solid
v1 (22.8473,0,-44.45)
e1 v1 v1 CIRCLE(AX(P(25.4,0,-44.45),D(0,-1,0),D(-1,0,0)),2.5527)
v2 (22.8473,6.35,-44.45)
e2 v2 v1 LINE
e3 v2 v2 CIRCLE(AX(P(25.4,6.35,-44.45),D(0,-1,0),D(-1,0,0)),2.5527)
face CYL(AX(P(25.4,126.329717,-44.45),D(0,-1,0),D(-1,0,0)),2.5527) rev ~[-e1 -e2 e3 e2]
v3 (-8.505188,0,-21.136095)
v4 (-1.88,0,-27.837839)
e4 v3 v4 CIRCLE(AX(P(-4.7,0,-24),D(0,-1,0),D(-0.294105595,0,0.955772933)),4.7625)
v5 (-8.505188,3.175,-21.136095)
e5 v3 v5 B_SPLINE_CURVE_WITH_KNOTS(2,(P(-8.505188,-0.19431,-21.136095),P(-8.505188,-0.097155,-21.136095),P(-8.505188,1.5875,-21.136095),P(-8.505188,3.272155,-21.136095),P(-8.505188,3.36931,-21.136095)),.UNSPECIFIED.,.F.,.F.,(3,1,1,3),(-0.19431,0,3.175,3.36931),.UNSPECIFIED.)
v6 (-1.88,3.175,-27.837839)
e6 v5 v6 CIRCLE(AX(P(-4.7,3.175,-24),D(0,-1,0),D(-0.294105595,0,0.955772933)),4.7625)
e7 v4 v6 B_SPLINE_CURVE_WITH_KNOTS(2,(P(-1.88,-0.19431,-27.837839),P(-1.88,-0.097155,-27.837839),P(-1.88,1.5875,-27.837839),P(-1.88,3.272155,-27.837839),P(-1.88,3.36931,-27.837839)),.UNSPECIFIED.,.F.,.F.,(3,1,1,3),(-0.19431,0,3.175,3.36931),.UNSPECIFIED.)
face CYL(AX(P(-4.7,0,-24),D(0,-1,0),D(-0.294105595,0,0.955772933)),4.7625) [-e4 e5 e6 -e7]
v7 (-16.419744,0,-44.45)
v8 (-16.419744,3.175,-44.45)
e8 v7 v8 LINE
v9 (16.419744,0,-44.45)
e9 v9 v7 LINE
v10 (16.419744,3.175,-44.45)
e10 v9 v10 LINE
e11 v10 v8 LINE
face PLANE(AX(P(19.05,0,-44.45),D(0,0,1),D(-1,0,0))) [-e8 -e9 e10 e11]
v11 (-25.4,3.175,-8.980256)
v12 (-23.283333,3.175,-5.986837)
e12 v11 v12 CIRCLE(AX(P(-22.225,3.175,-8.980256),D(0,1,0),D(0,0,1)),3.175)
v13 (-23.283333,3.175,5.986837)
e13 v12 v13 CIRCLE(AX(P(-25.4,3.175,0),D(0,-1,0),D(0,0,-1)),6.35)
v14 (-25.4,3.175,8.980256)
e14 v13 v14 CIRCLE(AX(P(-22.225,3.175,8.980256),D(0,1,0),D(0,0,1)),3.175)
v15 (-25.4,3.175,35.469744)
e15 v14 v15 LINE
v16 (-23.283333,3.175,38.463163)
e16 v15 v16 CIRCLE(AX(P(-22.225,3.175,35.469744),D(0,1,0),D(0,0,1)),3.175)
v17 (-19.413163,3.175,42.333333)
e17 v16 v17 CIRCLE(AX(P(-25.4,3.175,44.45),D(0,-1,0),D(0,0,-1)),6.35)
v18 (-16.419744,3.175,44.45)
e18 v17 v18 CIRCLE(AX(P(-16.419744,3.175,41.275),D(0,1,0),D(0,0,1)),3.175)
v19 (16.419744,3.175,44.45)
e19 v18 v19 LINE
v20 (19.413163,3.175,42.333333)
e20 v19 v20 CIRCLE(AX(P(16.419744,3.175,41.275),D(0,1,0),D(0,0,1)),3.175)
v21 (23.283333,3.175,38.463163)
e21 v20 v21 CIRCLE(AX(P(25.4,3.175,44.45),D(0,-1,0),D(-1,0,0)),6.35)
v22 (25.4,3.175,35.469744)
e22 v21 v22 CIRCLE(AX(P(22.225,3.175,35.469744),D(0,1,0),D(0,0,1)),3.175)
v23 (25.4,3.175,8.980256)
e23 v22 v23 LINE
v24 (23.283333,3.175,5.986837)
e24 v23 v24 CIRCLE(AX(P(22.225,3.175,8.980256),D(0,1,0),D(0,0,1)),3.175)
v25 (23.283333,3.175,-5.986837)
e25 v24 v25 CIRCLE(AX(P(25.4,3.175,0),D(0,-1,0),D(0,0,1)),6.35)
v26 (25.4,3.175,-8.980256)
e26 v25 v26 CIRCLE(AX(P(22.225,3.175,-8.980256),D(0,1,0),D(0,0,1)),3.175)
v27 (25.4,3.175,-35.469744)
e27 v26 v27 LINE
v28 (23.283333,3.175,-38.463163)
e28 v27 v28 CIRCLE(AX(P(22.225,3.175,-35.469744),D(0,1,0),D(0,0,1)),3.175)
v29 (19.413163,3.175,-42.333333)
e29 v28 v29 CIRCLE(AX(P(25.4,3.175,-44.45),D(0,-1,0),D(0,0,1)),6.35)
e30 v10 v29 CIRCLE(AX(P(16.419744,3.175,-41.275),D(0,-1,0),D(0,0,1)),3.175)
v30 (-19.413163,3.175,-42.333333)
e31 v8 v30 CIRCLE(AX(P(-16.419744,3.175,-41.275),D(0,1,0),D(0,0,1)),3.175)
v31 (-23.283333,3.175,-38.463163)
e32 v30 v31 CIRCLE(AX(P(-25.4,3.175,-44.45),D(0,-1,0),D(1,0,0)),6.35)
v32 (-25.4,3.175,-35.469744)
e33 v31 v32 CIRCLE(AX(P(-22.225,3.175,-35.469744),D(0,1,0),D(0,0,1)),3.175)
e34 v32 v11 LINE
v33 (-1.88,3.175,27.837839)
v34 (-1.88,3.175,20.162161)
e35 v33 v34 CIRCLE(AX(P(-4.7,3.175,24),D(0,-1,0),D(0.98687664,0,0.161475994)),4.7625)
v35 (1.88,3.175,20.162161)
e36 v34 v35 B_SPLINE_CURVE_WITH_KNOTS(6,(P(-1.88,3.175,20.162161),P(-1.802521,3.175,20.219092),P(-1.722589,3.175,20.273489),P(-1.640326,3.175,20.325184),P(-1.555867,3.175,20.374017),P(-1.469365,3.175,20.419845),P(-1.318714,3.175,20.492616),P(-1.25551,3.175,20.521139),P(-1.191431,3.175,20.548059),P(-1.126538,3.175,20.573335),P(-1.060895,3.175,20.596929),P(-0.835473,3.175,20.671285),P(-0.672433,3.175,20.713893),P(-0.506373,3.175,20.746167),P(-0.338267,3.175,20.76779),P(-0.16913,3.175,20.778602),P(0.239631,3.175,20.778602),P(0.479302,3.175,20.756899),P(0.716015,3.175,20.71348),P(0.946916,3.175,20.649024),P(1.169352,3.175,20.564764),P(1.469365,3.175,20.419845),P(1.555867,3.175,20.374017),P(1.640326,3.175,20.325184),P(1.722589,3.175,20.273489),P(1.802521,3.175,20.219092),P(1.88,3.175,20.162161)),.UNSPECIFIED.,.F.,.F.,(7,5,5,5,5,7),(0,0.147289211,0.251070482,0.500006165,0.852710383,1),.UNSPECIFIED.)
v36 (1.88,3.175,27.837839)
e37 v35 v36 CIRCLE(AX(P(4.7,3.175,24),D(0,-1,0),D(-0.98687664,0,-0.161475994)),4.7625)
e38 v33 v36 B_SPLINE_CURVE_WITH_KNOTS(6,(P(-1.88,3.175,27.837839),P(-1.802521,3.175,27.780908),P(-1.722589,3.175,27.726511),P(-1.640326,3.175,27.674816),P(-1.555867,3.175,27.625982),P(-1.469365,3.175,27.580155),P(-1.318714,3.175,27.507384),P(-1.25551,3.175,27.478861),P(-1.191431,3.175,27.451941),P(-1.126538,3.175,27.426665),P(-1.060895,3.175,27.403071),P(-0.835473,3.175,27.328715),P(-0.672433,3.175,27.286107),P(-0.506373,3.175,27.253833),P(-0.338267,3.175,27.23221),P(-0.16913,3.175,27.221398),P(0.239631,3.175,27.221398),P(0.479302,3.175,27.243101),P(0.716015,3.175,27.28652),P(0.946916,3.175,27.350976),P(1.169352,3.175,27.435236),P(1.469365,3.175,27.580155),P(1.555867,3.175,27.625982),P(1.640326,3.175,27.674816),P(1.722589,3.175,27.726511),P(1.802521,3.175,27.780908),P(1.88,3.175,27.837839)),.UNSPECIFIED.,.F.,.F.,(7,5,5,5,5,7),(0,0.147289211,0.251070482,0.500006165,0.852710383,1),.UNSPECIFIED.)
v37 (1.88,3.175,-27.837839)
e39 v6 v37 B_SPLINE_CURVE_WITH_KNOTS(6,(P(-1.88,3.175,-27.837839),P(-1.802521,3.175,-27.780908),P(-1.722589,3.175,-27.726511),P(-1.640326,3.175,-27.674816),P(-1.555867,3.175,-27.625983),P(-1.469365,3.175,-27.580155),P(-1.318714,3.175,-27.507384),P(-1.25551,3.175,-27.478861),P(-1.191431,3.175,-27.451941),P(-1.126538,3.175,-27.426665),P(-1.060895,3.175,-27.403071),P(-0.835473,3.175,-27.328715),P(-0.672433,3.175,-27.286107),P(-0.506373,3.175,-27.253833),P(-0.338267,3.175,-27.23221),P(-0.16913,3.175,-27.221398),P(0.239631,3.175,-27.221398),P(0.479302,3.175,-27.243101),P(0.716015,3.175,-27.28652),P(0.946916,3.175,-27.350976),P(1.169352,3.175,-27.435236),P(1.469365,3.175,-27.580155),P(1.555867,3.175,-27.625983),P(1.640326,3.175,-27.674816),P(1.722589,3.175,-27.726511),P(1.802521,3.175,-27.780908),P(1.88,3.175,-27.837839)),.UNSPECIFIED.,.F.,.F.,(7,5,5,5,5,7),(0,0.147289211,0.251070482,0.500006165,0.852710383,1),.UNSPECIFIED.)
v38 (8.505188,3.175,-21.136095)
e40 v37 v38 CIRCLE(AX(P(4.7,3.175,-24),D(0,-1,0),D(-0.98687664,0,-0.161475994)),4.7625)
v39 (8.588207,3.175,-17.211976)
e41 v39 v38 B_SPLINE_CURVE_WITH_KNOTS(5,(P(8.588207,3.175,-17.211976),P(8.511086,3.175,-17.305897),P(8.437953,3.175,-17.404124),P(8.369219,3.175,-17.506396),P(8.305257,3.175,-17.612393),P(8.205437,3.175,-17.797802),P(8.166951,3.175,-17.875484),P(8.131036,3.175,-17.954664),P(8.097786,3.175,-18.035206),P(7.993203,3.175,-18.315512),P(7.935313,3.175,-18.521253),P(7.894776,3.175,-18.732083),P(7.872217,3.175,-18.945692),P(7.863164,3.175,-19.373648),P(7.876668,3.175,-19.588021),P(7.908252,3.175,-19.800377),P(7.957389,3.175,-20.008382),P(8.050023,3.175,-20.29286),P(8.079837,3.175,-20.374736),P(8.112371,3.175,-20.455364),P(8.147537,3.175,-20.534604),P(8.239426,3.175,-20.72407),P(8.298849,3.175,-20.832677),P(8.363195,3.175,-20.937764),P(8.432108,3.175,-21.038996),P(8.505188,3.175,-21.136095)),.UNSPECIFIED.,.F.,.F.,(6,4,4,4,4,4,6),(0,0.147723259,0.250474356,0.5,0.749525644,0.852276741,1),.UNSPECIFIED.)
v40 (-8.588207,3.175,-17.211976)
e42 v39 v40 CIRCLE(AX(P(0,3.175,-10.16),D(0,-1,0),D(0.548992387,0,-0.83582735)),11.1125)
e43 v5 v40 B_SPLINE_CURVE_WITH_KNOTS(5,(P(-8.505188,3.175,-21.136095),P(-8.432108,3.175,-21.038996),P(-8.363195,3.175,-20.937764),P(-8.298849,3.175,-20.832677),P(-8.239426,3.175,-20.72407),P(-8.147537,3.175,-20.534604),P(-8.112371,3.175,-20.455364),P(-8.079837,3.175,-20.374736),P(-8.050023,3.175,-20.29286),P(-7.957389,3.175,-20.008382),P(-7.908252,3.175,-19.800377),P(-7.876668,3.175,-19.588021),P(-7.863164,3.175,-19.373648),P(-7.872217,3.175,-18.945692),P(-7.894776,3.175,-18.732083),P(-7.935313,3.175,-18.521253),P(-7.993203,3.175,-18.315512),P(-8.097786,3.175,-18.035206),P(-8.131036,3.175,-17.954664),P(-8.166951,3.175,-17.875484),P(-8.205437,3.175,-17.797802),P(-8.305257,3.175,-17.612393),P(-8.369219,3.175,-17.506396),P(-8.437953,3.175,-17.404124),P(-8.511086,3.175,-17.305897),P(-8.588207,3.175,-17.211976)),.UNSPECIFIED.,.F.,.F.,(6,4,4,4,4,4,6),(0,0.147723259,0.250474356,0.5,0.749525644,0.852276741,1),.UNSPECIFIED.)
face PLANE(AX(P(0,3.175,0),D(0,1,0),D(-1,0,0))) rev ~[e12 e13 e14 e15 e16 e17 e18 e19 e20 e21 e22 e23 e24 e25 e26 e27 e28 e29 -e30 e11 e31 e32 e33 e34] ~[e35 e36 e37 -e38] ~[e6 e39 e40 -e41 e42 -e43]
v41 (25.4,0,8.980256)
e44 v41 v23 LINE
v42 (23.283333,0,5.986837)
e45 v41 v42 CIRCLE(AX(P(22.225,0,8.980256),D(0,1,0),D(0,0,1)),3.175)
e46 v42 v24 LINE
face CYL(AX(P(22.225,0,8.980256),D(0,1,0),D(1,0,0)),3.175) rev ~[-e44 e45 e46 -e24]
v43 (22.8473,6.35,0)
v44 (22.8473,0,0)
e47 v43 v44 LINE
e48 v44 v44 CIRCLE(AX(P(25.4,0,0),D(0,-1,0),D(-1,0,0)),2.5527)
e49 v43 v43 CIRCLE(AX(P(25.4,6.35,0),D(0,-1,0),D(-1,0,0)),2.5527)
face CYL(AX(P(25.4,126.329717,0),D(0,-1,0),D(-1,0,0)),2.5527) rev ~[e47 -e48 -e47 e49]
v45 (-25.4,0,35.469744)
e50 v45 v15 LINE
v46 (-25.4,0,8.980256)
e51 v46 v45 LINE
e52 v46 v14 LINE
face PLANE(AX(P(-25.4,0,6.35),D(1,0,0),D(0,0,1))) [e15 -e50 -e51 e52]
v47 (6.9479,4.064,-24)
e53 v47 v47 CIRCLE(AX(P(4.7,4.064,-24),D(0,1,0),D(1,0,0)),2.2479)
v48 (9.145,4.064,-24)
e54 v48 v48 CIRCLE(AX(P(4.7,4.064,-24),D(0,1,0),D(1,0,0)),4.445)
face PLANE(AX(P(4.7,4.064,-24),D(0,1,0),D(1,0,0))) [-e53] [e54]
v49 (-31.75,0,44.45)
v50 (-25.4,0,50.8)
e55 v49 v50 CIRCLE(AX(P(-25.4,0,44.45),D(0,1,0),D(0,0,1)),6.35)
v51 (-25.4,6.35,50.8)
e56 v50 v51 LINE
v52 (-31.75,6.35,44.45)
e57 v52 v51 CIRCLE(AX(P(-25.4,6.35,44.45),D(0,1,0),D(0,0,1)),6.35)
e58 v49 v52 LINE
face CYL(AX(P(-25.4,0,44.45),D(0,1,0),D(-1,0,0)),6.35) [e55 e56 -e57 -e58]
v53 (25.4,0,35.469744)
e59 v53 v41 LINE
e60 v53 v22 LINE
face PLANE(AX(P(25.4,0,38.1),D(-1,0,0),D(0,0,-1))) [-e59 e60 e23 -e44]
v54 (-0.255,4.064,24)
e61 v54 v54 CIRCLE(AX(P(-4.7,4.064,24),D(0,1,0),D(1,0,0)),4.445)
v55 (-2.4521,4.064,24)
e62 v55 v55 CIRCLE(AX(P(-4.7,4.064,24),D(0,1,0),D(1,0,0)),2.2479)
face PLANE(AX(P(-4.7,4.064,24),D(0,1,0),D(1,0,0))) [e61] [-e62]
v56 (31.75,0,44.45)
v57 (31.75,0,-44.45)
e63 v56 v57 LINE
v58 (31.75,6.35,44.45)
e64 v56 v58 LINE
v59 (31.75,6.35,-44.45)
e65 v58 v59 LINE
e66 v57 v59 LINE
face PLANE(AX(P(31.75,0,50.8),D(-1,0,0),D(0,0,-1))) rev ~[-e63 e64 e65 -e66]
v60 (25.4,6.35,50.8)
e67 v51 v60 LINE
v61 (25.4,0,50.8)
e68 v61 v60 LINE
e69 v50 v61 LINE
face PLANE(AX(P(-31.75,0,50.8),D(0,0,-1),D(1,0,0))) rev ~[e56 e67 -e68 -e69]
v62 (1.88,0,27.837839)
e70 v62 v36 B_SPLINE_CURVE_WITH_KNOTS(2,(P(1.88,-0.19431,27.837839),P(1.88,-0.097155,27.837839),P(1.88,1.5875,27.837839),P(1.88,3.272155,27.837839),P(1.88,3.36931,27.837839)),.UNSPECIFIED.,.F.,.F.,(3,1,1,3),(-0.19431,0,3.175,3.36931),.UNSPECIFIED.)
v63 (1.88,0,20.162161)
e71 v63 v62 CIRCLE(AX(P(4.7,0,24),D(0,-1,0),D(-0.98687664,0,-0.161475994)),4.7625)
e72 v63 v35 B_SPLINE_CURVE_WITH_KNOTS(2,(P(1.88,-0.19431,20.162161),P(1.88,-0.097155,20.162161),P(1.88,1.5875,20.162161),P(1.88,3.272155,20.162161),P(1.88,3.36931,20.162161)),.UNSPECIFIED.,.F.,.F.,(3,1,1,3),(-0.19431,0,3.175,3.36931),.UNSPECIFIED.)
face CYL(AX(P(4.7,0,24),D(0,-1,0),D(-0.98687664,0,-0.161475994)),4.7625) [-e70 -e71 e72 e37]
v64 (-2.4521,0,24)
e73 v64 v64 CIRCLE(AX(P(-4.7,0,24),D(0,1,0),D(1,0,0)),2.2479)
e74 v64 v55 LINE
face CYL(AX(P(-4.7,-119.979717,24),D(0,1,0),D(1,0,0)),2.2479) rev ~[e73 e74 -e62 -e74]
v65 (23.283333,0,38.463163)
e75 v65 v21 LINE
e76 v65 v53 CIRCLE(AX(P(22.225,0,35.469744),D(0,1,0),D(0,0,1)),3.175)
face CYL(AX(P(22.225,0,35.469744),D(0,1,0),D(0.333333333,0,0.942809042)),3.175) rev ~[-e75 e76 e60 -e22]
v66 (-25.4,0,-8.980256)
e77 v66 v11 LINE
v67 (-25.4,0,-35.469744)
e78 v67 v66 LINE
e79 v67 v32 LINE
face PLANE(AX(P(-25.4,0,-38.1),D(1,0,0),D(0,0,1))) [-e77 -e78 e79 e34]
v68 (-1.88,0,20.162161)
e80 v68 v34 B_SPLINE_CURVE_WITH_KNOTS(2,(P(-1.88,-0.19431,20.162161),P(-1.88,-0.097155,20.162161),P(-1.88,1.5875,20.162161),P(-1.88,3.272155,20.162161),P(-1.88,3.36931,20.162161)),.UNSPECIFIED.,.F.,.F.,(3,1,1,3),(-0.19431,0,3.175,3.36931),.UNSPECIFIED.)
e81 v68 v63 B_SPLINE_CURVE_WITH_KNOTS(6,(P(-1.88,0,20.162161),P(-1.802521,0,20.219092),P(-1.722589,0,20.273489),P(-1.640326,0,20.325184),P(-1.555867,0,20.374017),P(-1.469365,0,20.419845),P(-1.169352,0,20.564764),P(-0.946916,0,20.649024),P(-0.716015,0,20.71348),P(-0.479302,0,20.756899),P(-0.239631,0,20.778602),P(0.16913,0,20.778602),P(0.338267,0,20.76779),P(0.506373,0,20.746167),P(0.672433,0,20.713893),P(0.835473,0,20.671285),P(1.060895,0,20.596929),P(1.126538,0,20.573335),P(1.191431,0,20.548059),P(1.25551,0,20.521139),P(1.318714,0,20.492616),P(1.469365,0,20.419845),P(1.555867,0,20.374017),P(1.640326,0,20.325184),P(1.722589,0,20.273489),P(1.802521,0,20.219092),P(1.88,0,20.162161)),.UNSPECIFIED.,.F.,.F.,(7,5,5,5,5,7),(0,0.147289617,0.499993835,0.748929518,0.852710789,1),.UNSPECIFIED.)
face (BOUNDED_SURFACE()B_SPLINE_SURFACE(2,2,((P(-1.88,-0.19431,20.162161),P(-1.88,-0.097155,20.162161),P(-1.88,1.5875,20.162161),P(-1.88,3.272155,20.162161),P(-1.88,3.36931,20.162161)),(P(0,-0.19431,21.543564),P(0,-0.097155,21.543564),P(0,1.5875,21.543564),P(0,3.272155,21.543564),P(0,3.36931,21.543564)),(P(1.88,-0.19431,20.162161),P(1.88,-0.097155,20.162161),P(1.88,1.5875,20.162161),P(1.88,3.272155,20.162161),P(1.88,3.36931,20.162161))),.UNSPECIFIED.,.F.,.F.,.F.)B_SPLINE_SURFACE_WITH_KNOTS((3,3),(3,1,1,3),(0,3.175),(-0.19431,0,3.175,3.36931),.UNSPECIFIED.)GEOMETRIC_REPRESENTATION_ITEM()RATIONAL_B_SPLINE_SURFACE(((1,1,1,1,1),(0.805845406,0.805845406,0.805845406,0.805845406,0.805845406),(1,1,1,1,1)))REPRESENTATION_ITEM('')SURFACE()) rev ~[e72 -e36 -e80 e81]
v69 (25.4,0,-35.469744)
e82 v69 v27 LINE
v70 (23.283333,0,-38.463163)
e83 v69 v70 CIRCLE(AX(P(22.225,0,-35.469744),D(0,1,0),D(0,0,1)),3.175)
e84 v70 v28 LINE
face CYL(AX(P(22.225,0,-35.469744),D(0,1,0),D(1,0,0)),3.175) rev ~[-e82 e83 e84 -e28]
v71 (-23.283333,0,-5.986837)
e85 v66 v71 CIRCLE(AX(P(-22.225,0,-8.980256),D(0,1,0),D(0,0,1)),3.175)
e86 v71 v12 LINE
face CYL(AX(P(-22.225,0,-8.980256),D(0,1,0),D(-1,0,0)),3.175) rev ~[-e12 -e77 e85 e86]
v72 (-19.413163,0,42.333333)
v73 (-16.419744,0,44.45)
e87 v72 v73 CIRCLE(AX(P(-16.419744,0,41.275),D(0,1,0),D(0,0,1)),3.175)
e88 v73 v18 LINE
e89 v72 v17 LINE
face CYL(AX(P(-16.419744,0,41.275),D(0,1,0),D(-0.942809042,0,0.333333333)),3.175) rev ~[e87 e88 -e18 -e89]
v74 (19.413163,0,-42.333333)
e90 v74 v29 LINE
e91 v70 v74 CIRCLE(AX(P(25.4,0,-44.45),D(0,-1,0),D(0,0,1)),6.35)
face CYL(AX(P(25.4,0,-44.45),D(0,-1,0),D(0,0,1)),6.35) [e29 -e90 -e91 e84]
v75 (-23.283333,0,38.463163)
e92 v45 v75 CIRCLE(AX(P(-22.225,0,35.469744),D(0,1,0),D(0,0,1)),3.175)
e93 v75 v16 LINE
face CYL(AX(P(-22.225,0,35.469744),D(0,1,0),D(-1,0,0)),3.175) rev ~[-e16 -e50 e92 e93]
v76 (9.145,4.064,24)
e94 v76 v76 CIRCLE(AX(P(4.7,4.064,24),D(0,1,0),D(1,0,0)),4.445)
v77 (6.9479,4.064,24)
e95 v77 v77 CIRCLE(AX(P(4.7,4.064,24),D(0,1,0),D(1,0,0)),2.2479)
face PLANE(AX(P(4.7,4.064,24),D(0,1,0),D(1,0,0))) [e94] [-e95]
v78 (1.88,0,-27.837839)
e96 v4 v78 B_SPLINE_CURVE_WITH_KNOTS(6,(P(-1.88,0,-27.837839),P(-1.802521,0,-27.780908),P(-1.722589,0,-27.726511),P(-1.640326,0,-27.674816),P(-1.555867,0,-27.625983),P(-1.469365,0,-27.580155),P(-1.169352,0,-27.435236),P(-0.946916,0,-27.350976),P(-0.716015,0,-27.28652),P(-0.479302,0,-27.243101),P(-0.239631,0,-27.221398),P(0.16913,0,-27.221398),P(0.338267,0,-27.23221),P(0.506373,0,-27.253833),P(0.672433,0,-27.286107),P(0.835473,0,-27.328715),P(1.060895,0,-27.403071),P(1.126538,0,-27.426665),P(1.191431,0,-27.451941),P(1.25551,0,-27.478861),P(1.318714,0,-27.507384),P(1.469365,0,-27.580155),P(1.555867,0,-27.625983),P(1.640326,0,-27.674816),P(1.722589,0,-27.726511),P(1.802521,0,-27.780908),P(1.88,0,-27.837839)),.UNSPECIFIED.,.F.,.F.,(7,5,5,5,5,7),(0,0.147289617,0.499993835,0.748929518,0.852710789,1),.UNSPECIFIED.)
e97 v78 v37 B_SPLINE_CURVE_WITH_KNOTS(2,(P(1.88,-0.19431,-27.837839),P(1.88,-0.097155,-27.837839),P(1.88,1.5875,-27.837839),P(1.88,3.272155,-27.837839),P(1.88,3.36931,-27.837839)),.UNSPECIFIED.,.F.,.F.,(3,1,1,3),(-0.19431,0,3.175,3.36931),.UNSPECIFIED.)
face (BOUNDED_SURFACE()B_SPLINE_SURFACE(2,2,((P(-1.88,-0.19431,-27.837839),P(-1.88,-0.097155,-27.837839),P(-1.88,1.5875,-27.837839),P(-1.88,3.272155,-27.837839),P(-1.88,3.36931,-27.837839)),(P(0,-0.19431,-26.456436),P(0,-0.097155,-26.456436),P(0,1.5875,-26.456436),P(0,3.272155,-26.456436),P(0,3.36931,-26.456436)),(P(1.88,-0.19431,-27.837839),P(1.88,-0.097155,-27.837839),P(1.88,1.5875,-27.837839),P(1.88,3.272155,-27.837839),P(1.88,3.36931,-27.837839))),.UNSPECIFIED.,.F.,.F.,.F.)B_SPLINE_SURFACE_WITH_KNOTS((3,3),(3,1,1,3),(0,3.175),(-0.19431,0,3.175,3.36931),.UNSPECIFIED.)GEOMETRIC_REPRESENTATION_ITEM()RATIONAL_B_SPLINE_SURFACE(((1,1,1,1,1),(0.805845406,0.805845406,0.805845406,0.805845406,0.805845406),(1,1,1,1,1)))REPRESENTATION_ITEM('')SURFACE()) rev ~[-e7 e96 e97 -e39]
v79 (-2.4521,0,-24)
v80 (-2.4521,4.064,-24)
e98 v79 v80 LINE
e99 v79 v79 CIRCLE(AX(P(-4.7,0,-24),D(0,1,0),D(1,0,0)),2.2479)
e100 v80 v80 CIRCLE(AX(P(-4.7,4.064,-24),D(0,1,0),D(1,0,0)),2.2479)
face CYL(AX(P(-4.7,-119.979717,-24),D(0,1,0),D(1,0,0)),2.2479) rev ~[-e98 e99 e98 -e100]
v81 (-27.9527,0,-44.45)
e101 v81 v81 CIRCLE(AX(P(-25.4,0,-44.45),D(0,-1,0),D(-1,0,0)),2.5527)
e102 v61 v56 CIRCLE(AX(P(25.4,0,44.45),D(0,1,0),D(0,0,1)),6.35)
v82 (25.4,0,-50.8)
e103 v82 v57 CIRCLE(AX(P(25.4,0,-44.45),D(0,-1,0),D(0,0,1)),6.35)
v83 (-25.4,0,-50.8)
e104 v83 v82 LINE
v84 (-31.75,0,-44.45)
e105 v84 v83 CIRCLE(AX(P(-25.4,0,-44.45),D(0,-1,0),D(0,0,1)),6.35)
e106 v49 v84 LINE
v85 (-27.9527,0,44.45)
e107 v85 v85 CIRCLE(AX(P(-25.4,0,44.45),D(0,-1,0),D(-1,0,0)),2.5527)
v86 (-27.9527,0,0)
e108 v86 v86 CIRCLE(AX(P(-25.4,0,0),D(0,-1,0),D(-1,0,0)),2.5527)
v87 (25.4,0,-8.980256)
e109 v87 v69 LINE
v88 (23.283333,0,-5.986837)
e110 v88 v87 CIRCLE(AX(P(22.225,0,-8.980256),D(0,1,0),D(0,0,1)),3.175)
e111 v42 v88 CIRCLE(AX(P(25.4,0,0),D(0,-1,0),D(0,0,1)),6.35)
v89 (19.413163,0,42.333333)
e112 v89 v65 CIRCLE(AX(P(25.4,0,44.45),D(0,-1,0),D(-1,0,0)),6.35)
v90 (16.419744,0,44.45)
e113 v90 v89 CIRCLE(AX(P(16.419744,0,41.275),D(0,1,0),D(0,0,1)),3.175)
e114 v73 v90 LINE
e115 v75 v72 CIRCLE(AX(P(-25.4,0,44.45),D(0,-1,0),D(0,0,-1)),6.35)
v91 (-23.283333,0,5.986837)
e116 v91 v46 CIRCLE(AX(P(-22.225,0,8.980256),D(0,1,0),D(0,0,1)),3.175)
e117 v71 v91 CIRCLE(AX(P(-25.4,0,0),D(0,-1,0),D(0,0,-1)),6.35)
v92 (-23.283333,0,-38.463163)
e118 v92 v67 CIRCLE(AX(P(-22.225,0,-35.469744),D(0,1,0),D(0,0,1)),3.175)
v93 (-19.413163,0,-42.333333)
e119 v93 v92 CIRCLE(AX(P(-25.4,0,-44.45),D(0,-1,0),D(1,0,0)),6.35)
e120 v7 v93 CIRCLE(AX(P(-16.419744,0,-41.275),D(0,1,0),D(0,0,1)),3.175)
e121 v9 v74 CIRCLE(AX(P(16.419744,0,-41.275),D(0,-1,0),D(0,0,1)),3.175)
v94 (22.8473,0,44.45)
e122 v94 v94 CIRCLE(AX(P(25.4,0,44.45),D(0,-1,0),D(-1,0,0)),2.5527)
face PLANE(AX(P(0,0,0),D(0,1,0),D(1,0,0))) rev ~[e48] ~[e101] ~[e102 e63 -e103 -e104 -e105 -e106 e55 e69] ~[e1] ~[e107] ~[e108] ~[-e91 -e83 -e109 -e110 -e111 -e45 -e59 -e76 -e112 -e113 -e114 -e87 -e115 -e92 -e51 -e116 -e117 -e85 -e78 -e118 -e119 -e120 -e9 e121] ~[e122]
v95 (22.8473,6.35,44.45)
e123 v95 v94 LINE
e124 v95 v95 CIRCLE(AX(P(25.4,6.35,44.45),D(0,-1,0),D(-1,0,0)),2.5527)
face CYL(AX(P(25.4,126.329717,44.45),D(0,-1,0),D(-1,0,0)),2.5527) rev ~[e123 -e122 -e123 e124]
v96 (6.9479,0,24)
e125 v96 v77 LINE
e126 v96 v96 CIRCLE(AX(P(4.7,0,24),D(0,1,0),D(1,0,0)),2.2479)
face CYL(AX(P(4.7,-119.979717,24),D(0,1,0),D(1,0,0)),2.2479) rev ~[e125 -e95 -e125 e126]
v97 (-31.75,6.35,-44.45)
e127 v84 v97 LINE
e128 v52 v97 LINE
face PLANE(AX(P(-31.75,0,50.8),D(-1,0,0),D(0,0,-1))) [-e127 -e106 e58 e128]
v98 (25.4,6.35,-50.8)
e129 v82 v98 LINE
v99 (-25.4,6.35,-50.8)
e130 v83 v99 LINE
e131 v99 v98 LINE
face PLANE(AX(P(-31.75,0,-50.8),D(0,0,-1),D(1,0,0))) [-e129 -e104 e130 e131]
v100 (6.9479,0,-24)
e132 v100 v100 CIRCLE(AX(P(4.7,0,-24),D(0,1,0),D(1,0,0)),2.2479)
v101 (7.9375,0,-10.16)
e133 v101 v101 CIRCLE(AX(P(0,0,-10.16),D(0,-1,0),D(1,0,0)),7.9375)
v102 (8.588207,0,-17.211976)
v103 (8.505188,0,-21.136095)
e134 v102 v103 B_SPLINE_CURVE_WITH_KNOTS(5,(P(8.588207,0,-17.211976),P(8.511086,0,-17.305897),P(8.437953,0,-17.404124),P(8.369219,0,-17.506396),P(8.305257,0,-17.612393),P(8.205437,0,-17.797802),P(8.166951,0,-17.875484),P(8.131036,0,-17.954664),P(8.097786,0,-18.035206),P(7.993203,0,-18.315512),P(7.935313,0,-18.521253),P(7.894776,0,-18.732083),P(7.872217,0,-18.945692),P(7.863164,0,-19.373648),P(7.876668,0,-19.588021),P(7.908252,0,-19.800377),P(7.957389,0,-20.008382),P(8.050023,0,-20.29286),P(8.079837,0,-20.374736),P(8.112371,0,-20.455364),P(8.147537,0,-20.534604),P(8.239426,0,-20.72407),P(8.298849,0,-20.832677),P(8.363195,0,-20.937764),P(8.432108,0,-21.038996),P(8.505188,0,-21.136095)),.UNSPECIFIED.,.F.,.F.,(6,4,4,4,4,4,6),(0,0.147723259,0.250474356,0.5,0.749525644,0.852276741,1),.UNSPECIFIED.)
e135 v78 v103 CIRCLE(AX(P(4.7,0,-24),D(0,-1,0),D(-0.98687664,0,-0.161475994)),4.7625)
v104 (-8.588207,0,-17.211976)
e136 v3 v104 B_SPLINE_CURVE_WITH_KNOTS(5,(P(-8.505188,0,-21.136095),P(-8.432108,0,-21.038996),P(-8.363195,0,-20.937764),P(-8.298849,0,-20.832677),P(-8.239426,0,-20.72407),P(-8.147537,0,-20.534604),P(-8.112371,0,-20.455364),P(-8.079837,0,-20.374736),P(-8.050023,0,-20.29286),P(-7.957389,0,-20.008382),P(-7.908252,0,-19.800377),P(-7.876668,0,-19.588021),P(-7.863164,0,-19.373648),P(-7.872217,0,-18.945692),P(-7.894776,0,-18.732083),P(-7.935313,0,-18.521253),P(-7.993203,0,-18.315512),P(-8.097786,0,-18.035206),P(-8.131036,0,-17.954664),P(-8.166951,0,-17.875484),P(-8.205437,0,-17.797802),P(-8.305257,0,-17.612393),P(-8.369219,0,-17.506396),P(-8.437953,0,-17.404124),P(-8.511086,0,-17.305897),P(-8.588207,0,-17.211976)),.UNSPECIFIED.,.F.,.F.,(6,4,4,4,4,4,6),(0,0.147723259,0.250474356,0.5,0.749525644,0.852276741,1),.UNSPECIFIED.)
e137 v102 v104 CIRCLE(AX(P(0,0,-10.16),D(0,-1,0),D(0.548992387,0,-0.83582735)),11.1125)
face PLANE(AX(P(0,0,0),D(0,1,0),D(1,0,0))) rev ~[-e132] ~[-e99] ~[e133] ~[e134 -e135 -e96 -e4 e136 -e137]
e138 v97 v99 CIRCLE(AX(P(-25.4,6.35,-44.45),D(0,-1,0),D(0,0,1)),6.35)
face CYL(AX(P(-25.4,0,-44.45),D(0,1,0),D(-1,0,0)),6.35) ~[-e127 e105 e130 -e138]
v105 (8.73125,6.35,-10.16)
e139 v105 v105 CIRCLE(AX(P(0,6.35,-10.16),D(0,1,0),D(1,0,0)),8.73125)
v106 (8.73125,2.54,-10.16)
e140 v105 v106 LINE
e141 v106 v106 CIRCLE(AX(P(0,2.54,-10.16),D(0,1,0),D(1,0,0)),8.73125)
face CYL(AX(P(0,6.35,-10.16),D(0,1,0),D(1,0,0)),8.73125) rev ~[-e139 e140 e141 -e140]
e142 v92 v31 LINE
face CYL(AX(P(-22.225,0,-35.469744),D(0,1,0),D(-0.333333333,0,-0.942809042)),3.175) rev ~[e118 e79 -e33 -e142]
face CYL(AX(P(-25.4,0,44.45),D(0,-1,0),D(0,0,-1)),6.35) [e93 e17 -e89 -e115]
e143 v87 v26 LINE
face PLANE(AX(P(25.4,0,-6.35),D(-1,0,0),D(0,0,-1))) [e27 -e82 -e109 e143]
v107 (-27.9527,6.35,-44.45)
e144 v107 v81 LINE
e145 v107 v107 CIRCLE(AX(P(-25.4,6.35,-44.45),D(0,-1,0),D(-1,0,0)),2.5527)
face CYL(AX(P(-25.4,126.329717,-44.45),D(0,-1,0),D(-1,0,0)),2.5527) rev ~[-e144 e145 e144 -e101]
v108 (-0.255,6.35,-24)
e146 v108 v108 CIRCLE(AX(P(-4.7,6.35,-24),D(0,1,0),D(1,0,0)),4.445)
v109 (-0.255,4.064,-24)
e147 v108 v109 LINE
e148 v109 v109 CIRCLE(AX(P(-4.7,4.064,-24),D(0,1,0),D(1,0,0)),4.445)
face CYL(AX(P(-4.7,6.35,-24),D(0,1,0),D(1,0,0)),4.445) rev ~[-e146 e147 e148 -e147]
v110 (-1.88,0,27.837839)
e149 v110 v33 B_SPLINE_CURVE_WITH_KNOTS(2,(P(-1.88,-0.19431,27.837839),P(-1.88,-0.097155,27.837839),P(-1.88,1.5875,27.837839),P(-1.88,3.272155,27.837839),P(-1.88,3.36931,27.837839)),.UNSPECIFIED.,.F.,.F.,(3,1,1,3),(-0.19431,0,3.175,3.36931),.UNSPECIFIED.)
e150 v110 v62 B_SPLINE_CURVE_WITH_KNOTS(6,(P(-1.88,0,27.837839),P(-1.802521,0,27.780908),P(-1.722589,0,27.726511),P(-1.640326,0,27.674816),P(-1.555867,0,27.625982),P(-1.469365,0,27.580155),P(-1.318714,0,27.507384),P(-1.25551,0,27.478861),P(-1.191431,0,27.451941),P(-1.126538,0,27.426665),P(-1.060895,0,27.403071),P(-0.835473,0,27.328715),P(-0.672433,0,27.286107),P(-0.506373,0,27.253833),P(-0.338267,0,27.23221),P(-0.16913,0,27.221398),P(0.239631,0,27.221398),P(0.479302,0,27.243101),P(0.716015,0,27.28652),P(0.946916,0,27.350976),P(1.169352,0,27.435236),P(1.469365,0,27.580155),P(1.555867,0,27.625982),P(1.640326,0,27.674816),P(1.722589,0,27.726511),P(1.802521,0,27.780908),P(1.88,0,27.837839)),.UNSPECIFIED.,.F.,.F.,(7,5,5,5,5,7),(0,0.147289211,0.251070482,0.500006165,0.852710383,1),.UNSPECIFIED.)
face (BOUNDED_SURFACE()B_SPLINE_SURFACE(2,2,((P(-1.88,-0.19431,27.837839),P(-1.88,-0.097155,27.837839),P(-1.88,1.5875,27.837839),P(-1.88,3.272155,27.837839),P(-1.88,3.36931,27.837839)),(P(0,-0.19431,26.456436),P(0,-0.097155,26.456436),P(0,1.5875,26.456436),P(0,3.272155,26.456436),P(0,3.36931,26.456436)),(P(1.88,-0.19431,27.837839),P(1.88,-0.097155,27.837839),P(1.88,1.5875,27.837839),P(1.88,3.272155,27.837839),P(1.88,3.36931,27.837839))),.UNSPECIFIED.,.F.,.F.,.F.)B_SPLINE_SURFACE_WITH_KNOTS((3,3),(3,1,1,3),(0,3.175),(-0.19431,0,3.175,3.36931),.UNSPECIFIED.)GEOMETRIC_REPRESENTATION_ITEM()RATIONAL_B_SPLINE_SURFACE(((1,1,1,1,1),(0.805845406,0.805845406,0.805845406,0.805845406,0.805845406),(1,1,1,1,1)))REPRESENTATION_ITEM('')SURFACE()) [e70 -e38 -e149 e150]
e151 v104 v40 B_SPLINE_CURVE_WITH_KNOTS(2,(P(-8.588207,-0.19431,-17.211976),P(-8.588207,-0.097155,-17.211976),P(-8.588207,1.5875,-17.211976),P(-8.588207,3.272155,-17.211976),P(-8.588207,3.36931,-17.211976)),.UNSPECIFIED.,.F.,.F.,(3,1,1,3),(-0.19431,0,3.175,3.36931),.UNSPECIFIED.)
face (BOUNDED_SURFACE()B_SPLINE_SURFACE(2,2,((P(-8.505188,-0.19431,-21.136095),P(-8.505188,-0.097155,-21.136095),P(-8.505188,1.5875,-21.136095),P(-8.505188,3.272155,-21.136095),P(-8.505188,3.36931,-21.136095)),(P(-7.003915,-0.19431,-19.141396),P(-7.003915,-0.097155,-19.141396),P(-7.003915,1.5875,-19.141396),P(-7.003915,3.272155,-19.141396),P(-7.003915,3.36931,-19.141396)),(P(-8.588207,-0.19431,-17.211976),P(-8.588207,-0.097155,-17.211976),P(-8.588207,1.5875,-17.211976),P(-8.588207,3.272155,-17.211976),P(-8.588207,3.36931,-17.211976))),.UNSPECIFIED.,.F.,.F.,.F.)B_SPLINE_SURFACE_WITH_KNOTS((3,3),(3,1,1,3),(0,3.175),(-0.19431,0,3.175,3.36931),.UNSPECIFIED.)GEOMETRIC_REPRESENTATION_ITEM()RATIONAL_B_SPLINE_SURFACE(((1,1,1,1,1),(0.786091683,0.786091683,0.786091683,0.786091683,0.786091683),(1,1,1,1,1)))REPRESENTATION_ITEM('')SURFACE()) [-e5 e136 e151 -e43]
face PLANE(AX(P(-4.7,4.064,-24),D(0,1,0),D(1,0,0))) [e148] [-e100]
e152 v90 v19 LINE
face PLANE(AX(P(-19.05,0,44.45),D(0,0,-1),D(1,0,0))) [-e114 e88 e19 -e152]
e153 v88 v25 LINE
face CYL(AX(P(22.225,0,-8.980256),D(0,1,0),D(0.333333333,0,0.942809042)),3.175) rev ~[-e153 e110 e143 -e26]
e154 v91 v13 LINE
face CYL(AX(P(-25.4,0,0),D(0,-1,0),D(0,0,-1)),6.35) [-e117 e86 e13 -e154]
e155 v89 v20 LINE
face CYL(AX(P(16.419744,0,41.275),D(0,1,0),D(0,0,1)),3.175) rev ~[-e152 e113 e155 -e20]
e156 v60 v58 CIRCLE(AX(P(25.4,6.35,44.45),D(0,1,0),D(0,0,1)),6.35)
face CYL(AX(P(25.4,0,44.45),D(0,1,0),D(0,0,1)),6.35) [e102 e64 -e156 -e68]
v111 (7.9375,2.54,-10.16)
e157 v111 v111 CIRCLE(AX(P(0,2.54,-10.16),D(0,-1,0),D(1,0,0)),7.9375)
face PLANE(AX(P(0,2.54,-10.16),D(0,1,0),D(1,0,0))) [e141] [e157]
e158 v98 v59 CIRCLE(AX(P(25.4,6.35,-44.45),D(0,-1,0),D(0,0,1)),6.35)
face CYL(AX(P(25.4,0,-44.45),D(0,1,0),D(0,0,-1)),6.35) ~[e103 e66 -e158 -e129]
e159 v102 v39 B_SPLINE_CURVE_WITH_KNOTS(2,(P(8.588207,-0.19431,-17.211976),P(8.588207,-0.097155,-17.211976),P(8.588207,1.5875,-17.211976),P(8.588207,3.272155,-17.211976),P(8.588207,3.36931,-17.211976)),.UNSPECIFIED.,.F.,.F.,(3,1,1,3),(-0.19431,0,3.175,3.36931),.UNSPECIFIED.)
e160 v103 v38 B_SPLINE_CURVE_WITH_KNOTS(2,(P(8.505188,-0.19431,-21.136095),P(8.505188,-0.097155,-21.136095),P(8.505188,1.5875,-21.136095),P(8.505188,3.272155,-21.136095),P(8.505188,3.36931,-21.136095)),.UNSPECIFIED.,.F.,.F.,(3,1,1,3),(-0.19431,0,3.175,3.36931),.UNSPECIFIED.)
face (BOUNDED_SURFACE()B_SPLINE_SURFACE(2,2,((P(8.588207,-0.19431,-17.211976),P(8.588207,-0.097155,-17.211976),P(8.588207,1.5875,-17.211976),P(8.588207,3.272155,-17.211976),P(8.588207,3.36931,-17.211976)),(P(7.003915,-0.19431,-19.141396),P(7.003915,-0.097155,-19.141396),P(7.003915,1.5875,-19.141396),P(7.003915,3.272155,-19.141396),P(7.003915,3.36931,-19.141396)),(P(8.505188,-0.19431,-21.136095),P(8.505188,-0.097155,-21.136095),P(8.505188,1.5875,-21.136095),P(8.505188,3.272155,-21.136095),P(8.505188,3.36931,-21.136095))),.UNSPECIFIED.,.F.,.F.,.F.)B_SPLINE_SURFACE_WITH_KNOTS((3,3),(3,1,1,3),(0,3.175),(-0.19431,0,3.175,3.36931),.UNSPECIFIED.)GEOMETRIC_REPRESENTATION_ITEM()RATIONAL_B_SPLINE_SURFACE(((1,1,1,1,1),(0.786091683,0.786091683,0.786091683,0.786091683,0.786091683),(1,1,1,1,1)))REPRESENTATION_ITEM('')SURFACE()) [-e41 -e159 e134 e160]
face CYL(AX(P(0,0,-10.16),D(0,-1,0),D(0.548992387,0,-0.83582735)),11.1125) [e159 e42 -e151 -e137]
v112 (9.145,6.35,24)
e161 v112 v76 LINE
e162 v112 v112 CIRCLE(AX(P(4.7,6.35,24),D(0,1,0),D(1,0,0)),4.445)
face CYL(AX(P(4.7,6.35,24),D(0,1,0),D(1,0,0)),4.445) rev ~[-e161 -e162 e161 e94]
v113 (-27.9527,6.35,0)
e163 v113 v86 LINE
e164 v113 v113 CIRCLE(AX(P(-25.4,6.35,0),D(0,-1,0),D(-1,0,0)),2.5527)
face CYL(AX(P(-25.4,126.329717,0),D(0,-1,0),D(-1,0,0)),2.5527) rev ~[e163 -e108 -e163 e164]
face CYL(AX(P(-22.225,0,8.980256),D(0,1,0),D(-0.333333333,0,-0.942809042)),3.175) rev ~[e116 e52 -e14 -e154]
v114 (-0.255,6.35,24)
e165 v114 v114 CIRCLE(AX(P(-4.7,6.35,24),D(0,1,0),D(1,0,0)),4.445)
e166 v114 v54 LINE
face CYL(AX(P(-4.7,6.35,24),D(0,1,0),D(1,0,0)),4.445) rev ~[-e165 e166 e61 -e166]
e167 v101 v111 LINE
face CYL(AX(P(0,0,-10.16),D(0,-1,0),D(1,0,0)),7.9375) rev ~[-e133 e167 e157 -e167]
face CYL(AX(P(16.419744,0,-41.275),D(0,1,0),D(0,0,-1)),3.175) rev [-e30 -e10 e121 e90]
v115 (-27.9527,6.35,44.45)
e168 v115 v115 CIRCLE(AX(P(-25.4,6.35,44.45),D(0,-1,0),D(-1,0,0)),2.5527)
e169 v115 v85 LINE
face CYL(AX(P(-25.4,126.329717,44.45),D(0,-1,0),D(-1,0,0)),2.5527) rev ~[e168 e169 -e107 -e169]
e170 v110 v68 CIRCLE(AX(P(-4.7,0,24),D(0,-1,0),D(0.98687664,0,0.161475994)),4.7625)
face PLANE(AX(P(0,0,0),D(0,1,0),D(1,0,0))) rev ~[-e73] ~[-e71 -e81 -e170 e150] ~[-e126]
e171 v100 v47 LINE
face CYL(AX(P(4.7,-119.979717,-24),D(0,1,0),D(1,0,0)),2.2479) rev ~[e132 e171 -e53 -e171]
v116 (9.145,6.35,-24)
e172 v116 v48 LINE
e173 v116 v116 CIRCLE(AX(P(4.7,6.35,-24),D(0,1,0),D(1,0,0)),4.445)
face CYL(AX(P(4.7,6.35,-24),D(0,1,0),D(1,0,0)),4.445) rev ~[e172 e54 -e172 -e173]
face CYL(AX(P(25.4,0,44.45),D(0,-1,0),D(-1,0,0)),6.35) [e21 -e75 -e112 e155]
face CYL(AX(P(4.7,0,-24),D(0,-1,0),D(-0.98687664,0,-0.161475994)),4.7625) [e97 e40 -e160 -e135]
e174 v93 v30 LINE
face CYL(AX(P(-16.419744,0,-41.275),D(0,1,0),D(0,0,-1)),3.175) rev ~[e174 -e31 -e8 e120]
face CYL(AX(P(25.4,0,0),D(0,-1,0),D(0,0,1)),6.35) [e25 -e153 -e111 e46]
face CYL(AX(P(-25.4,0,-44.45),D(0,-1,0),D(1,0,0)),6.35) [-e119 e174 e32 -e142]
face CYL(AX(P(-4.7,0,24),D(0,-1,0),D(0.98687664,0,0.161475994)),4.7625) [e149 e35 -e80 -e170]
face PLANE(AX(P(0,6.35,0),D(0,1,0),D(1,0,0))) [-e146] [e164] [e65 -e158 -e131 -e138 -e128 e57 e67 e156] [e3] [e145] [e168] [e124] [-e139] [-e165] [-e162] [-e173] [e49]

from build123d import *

# Parameters (mm, degrees)
SKETCH1_W              = 63.5
SKETCH1_H              = 101.6
BOSS_EXTRUDE1_DEPTH    = 6.35
SKETCH3_R              = 8.73125
CUT_EXTRUDE1_DEPTH     = 3.81
F_8_CLEARANCE_HOLE2_D  = 4.4958
SKETCH4_R              = 7.9375
CUT_EXTRUDE2_DEPTH     = 7.9375
FILLET1_R              = 6.35
F_10_CLEARANCE_HOLE1_D = 5.1054
CUT_EXTRUDE3_DEPTH     = 3.175
FILLET2_R              = 3.175
SKETCH11_R             = 4.445
CUT_EXTRUDE4_DEPTH     = 2.286


with BuildPart() as part:
    # Sketch1 → Boss-Extrude1 (new body)
    with BuildSketch(Plane(origin=(0, 0, 0), x_dir=(1, 0, 0), z_dir=(0, 1, 0))):
        Rectangle(SKETCH1_W, SKETCH1_H)
    extrude(amount=BOSS_EXTRUDE1_DEPTH)

    # Sketch3 → Cut-Extrude1 (cut)
    with BuildSketch(Plane(origin=(0, 6.35, 0), x_dir=(1, 0, 0), z_dir=(0, 1, 0))):
        with Locations((0, 10.16)):
            Circle(SKETCH3_R)
    extrude(amount=-CUT_EXTRUDE1_DEPTH, mode=Mode.SUBTRACT)

    # #8 Clearance Hole2 (through all)
    with Locations(Plane(origin=(0, 0, 0), x_dir=(-1, 0, 0), z_dir=(0, -1, 0))):
        with Locations((-4.7, 24.00000002), (4.7, -23.99999998), (4.7, 24.00000002), (-4.7, -23.99999998)):
            Hole(F_8_CLEARANCE_HOLE2_D / 2)

    # Sketch4 → Cut-Extrude2 (cut)
    with BuildSketch(Plane.XZ):
        with Locations((0, -10.16)):
            Circle(SKETCH4_R)
    extrude(amount=-CUT_EXTRUDE2_DEPTH, mode=Mode.SUBTRACT)

    # Fillet1
    fillet1_edges = [part.edges().sort_by_distance(p)[0] for p in [
        (-31.75, 3.175, -50.8),
        (31.75, 3.175, -50.8),
        (31.75, 3.175, 50.8),
        (-31.75, 3.175, 50.8),
    ]]
    fillet(fillet1_edges, radius=FILLET1_R)

    # #10 Clearance Hole1 (through all)
    with Locations(Plane(origin=(0, 6.35, 0), x_dir=(1, 0, 0), z_dir=(0, 1, 0))):
        with Locations((25.4, 44.45), (-25.4, 44.45), (-25.4, -44.45), (25.4, -44.45), (-25.4, 0), (25.4, 0)):
            Hole(F_10_CLEARANCE_HOLE1_D / 2)

    # Sketch10 → Cut-Extrude3 (cut)
    with BuildSketch(Plane.XZ):
        with BuildLine():
            Line((19.05, -44.45), (-19.05, -44.45))
            ThreePointArc((-19.05, -44.45), (-20.909871939, -39.959871939), (-25.4, -38.1))
            Line((-25.4, -38.1), (-25.4, -6.35))
            ThreePointArc((-25.4, -6.35), (-19.05, 0), (-25.4, 6.35))
            Line((-25.4, 6.35), (-25.4, 38.1))
            ThreePointArc((-25.4, 38.1), (-20.909871939, 39.959871939), (-19.05, 44.45))
            Line((-19.05, 44.45), (19.05, 44.45))
            ThreePointArc((19.05, 44.45), (20.909871939, 39.959871939), (25.4, 38.1))
            Line((25.4, 38.1), (25.4, 6.35))
            ThreePointArc((25.4, 6.35), (19.05, 0), (25.4, -6.35))
            Line((25.4, -6.35), (25.4, -38.1))
            ThreePointArc((25.4, -38.1), (20.909871939, -39.959871939), (19.05, -44.45))
        make_face()
        with BuildLine():
            ThreePointArc((0, -24.769029441), (7.830394623, -27.589155318), (6.100677898, -19.448131428))
            ThreePointArc((6.100677898, -19.448131428), (0, 0.9525), (-6.100677898, -19.448131428))
            ThreePointArc((-6.100677898, -19.448131428), (-7.830394623, -27.589155318), (0, -24.769029441))
        make_face(mode=Mode.SUBTRACT)
        with BuildLine():
            ThreePointArc((0, 23.230970559), (9.4625, 23.99999998), (0, 24.769029401))
            ThreePointArc((0, 24.769029401), (-9.4625, 23.99999998), (0, 23.230970559))
        make_face(mode=Mode.SUBTRACT)
    extrude(amount=-CUT_EXTRUDE3_DEPTH, mode=Mode.SUBTRACT)

    # Fillet2
    fillet2_edges = [part.edges().sort_by_distance(p)[0] for p in [
        (25.4, 1.5875, -38.1),
        (19.05, 1.5875, -44.45),
        (-19.05, 1.5875, -44.45),
        (-25.4, 1.5875, -38.1),
        (-25.4, 1.5875, -6.35),
        (-25.4, 1.5875, 6.35),
        (-25.4, 1.5875, 38.1),
        (-19.05, 1.5875, 44.45),
        (19.05, 1.5875, 44.45),
        (25.4, 1.5875, 38.1),
        (25.4, 1.5875, 6.35),
        (25.4, 1.5875, -6.35),
        (-6.100677898, 1.5875, -19.448131428),
        (6.100677898, 1.5875, -19.448131428),
        (0, 1.5875, -24.769029441),
        (0, 1.5875, 24.769029401),
        (0, 1.5875, 23.230970559),
    ]]
    fillet(fillet2_edges, radius=FILLET2_R)

    # Sketch11 → Cut-Extrude4 (cut)
    with BuildSketch(Plane(origin=(0, 6.35, 0), x_dir=(1, 0, 0), z_dir=(0, 1, 0))):
        with Locations((4.7, -23.99999998)):
            Circle(SKETCH11_R)
        with Locations((-4.7, -23.99999998)):
            Circle(SKETCH11_R)
        with Locations((4.7, 24.00000002)):
            Circle(SKETCH11_R)
        with Locations((-4.7, 24.00000002)):
            Circle(SKETCH11_R)
    extrude(amount=-CUT_EXTRUDE4_DEPTH, mode=Mode.SUBTRACT)


solid = part.part
